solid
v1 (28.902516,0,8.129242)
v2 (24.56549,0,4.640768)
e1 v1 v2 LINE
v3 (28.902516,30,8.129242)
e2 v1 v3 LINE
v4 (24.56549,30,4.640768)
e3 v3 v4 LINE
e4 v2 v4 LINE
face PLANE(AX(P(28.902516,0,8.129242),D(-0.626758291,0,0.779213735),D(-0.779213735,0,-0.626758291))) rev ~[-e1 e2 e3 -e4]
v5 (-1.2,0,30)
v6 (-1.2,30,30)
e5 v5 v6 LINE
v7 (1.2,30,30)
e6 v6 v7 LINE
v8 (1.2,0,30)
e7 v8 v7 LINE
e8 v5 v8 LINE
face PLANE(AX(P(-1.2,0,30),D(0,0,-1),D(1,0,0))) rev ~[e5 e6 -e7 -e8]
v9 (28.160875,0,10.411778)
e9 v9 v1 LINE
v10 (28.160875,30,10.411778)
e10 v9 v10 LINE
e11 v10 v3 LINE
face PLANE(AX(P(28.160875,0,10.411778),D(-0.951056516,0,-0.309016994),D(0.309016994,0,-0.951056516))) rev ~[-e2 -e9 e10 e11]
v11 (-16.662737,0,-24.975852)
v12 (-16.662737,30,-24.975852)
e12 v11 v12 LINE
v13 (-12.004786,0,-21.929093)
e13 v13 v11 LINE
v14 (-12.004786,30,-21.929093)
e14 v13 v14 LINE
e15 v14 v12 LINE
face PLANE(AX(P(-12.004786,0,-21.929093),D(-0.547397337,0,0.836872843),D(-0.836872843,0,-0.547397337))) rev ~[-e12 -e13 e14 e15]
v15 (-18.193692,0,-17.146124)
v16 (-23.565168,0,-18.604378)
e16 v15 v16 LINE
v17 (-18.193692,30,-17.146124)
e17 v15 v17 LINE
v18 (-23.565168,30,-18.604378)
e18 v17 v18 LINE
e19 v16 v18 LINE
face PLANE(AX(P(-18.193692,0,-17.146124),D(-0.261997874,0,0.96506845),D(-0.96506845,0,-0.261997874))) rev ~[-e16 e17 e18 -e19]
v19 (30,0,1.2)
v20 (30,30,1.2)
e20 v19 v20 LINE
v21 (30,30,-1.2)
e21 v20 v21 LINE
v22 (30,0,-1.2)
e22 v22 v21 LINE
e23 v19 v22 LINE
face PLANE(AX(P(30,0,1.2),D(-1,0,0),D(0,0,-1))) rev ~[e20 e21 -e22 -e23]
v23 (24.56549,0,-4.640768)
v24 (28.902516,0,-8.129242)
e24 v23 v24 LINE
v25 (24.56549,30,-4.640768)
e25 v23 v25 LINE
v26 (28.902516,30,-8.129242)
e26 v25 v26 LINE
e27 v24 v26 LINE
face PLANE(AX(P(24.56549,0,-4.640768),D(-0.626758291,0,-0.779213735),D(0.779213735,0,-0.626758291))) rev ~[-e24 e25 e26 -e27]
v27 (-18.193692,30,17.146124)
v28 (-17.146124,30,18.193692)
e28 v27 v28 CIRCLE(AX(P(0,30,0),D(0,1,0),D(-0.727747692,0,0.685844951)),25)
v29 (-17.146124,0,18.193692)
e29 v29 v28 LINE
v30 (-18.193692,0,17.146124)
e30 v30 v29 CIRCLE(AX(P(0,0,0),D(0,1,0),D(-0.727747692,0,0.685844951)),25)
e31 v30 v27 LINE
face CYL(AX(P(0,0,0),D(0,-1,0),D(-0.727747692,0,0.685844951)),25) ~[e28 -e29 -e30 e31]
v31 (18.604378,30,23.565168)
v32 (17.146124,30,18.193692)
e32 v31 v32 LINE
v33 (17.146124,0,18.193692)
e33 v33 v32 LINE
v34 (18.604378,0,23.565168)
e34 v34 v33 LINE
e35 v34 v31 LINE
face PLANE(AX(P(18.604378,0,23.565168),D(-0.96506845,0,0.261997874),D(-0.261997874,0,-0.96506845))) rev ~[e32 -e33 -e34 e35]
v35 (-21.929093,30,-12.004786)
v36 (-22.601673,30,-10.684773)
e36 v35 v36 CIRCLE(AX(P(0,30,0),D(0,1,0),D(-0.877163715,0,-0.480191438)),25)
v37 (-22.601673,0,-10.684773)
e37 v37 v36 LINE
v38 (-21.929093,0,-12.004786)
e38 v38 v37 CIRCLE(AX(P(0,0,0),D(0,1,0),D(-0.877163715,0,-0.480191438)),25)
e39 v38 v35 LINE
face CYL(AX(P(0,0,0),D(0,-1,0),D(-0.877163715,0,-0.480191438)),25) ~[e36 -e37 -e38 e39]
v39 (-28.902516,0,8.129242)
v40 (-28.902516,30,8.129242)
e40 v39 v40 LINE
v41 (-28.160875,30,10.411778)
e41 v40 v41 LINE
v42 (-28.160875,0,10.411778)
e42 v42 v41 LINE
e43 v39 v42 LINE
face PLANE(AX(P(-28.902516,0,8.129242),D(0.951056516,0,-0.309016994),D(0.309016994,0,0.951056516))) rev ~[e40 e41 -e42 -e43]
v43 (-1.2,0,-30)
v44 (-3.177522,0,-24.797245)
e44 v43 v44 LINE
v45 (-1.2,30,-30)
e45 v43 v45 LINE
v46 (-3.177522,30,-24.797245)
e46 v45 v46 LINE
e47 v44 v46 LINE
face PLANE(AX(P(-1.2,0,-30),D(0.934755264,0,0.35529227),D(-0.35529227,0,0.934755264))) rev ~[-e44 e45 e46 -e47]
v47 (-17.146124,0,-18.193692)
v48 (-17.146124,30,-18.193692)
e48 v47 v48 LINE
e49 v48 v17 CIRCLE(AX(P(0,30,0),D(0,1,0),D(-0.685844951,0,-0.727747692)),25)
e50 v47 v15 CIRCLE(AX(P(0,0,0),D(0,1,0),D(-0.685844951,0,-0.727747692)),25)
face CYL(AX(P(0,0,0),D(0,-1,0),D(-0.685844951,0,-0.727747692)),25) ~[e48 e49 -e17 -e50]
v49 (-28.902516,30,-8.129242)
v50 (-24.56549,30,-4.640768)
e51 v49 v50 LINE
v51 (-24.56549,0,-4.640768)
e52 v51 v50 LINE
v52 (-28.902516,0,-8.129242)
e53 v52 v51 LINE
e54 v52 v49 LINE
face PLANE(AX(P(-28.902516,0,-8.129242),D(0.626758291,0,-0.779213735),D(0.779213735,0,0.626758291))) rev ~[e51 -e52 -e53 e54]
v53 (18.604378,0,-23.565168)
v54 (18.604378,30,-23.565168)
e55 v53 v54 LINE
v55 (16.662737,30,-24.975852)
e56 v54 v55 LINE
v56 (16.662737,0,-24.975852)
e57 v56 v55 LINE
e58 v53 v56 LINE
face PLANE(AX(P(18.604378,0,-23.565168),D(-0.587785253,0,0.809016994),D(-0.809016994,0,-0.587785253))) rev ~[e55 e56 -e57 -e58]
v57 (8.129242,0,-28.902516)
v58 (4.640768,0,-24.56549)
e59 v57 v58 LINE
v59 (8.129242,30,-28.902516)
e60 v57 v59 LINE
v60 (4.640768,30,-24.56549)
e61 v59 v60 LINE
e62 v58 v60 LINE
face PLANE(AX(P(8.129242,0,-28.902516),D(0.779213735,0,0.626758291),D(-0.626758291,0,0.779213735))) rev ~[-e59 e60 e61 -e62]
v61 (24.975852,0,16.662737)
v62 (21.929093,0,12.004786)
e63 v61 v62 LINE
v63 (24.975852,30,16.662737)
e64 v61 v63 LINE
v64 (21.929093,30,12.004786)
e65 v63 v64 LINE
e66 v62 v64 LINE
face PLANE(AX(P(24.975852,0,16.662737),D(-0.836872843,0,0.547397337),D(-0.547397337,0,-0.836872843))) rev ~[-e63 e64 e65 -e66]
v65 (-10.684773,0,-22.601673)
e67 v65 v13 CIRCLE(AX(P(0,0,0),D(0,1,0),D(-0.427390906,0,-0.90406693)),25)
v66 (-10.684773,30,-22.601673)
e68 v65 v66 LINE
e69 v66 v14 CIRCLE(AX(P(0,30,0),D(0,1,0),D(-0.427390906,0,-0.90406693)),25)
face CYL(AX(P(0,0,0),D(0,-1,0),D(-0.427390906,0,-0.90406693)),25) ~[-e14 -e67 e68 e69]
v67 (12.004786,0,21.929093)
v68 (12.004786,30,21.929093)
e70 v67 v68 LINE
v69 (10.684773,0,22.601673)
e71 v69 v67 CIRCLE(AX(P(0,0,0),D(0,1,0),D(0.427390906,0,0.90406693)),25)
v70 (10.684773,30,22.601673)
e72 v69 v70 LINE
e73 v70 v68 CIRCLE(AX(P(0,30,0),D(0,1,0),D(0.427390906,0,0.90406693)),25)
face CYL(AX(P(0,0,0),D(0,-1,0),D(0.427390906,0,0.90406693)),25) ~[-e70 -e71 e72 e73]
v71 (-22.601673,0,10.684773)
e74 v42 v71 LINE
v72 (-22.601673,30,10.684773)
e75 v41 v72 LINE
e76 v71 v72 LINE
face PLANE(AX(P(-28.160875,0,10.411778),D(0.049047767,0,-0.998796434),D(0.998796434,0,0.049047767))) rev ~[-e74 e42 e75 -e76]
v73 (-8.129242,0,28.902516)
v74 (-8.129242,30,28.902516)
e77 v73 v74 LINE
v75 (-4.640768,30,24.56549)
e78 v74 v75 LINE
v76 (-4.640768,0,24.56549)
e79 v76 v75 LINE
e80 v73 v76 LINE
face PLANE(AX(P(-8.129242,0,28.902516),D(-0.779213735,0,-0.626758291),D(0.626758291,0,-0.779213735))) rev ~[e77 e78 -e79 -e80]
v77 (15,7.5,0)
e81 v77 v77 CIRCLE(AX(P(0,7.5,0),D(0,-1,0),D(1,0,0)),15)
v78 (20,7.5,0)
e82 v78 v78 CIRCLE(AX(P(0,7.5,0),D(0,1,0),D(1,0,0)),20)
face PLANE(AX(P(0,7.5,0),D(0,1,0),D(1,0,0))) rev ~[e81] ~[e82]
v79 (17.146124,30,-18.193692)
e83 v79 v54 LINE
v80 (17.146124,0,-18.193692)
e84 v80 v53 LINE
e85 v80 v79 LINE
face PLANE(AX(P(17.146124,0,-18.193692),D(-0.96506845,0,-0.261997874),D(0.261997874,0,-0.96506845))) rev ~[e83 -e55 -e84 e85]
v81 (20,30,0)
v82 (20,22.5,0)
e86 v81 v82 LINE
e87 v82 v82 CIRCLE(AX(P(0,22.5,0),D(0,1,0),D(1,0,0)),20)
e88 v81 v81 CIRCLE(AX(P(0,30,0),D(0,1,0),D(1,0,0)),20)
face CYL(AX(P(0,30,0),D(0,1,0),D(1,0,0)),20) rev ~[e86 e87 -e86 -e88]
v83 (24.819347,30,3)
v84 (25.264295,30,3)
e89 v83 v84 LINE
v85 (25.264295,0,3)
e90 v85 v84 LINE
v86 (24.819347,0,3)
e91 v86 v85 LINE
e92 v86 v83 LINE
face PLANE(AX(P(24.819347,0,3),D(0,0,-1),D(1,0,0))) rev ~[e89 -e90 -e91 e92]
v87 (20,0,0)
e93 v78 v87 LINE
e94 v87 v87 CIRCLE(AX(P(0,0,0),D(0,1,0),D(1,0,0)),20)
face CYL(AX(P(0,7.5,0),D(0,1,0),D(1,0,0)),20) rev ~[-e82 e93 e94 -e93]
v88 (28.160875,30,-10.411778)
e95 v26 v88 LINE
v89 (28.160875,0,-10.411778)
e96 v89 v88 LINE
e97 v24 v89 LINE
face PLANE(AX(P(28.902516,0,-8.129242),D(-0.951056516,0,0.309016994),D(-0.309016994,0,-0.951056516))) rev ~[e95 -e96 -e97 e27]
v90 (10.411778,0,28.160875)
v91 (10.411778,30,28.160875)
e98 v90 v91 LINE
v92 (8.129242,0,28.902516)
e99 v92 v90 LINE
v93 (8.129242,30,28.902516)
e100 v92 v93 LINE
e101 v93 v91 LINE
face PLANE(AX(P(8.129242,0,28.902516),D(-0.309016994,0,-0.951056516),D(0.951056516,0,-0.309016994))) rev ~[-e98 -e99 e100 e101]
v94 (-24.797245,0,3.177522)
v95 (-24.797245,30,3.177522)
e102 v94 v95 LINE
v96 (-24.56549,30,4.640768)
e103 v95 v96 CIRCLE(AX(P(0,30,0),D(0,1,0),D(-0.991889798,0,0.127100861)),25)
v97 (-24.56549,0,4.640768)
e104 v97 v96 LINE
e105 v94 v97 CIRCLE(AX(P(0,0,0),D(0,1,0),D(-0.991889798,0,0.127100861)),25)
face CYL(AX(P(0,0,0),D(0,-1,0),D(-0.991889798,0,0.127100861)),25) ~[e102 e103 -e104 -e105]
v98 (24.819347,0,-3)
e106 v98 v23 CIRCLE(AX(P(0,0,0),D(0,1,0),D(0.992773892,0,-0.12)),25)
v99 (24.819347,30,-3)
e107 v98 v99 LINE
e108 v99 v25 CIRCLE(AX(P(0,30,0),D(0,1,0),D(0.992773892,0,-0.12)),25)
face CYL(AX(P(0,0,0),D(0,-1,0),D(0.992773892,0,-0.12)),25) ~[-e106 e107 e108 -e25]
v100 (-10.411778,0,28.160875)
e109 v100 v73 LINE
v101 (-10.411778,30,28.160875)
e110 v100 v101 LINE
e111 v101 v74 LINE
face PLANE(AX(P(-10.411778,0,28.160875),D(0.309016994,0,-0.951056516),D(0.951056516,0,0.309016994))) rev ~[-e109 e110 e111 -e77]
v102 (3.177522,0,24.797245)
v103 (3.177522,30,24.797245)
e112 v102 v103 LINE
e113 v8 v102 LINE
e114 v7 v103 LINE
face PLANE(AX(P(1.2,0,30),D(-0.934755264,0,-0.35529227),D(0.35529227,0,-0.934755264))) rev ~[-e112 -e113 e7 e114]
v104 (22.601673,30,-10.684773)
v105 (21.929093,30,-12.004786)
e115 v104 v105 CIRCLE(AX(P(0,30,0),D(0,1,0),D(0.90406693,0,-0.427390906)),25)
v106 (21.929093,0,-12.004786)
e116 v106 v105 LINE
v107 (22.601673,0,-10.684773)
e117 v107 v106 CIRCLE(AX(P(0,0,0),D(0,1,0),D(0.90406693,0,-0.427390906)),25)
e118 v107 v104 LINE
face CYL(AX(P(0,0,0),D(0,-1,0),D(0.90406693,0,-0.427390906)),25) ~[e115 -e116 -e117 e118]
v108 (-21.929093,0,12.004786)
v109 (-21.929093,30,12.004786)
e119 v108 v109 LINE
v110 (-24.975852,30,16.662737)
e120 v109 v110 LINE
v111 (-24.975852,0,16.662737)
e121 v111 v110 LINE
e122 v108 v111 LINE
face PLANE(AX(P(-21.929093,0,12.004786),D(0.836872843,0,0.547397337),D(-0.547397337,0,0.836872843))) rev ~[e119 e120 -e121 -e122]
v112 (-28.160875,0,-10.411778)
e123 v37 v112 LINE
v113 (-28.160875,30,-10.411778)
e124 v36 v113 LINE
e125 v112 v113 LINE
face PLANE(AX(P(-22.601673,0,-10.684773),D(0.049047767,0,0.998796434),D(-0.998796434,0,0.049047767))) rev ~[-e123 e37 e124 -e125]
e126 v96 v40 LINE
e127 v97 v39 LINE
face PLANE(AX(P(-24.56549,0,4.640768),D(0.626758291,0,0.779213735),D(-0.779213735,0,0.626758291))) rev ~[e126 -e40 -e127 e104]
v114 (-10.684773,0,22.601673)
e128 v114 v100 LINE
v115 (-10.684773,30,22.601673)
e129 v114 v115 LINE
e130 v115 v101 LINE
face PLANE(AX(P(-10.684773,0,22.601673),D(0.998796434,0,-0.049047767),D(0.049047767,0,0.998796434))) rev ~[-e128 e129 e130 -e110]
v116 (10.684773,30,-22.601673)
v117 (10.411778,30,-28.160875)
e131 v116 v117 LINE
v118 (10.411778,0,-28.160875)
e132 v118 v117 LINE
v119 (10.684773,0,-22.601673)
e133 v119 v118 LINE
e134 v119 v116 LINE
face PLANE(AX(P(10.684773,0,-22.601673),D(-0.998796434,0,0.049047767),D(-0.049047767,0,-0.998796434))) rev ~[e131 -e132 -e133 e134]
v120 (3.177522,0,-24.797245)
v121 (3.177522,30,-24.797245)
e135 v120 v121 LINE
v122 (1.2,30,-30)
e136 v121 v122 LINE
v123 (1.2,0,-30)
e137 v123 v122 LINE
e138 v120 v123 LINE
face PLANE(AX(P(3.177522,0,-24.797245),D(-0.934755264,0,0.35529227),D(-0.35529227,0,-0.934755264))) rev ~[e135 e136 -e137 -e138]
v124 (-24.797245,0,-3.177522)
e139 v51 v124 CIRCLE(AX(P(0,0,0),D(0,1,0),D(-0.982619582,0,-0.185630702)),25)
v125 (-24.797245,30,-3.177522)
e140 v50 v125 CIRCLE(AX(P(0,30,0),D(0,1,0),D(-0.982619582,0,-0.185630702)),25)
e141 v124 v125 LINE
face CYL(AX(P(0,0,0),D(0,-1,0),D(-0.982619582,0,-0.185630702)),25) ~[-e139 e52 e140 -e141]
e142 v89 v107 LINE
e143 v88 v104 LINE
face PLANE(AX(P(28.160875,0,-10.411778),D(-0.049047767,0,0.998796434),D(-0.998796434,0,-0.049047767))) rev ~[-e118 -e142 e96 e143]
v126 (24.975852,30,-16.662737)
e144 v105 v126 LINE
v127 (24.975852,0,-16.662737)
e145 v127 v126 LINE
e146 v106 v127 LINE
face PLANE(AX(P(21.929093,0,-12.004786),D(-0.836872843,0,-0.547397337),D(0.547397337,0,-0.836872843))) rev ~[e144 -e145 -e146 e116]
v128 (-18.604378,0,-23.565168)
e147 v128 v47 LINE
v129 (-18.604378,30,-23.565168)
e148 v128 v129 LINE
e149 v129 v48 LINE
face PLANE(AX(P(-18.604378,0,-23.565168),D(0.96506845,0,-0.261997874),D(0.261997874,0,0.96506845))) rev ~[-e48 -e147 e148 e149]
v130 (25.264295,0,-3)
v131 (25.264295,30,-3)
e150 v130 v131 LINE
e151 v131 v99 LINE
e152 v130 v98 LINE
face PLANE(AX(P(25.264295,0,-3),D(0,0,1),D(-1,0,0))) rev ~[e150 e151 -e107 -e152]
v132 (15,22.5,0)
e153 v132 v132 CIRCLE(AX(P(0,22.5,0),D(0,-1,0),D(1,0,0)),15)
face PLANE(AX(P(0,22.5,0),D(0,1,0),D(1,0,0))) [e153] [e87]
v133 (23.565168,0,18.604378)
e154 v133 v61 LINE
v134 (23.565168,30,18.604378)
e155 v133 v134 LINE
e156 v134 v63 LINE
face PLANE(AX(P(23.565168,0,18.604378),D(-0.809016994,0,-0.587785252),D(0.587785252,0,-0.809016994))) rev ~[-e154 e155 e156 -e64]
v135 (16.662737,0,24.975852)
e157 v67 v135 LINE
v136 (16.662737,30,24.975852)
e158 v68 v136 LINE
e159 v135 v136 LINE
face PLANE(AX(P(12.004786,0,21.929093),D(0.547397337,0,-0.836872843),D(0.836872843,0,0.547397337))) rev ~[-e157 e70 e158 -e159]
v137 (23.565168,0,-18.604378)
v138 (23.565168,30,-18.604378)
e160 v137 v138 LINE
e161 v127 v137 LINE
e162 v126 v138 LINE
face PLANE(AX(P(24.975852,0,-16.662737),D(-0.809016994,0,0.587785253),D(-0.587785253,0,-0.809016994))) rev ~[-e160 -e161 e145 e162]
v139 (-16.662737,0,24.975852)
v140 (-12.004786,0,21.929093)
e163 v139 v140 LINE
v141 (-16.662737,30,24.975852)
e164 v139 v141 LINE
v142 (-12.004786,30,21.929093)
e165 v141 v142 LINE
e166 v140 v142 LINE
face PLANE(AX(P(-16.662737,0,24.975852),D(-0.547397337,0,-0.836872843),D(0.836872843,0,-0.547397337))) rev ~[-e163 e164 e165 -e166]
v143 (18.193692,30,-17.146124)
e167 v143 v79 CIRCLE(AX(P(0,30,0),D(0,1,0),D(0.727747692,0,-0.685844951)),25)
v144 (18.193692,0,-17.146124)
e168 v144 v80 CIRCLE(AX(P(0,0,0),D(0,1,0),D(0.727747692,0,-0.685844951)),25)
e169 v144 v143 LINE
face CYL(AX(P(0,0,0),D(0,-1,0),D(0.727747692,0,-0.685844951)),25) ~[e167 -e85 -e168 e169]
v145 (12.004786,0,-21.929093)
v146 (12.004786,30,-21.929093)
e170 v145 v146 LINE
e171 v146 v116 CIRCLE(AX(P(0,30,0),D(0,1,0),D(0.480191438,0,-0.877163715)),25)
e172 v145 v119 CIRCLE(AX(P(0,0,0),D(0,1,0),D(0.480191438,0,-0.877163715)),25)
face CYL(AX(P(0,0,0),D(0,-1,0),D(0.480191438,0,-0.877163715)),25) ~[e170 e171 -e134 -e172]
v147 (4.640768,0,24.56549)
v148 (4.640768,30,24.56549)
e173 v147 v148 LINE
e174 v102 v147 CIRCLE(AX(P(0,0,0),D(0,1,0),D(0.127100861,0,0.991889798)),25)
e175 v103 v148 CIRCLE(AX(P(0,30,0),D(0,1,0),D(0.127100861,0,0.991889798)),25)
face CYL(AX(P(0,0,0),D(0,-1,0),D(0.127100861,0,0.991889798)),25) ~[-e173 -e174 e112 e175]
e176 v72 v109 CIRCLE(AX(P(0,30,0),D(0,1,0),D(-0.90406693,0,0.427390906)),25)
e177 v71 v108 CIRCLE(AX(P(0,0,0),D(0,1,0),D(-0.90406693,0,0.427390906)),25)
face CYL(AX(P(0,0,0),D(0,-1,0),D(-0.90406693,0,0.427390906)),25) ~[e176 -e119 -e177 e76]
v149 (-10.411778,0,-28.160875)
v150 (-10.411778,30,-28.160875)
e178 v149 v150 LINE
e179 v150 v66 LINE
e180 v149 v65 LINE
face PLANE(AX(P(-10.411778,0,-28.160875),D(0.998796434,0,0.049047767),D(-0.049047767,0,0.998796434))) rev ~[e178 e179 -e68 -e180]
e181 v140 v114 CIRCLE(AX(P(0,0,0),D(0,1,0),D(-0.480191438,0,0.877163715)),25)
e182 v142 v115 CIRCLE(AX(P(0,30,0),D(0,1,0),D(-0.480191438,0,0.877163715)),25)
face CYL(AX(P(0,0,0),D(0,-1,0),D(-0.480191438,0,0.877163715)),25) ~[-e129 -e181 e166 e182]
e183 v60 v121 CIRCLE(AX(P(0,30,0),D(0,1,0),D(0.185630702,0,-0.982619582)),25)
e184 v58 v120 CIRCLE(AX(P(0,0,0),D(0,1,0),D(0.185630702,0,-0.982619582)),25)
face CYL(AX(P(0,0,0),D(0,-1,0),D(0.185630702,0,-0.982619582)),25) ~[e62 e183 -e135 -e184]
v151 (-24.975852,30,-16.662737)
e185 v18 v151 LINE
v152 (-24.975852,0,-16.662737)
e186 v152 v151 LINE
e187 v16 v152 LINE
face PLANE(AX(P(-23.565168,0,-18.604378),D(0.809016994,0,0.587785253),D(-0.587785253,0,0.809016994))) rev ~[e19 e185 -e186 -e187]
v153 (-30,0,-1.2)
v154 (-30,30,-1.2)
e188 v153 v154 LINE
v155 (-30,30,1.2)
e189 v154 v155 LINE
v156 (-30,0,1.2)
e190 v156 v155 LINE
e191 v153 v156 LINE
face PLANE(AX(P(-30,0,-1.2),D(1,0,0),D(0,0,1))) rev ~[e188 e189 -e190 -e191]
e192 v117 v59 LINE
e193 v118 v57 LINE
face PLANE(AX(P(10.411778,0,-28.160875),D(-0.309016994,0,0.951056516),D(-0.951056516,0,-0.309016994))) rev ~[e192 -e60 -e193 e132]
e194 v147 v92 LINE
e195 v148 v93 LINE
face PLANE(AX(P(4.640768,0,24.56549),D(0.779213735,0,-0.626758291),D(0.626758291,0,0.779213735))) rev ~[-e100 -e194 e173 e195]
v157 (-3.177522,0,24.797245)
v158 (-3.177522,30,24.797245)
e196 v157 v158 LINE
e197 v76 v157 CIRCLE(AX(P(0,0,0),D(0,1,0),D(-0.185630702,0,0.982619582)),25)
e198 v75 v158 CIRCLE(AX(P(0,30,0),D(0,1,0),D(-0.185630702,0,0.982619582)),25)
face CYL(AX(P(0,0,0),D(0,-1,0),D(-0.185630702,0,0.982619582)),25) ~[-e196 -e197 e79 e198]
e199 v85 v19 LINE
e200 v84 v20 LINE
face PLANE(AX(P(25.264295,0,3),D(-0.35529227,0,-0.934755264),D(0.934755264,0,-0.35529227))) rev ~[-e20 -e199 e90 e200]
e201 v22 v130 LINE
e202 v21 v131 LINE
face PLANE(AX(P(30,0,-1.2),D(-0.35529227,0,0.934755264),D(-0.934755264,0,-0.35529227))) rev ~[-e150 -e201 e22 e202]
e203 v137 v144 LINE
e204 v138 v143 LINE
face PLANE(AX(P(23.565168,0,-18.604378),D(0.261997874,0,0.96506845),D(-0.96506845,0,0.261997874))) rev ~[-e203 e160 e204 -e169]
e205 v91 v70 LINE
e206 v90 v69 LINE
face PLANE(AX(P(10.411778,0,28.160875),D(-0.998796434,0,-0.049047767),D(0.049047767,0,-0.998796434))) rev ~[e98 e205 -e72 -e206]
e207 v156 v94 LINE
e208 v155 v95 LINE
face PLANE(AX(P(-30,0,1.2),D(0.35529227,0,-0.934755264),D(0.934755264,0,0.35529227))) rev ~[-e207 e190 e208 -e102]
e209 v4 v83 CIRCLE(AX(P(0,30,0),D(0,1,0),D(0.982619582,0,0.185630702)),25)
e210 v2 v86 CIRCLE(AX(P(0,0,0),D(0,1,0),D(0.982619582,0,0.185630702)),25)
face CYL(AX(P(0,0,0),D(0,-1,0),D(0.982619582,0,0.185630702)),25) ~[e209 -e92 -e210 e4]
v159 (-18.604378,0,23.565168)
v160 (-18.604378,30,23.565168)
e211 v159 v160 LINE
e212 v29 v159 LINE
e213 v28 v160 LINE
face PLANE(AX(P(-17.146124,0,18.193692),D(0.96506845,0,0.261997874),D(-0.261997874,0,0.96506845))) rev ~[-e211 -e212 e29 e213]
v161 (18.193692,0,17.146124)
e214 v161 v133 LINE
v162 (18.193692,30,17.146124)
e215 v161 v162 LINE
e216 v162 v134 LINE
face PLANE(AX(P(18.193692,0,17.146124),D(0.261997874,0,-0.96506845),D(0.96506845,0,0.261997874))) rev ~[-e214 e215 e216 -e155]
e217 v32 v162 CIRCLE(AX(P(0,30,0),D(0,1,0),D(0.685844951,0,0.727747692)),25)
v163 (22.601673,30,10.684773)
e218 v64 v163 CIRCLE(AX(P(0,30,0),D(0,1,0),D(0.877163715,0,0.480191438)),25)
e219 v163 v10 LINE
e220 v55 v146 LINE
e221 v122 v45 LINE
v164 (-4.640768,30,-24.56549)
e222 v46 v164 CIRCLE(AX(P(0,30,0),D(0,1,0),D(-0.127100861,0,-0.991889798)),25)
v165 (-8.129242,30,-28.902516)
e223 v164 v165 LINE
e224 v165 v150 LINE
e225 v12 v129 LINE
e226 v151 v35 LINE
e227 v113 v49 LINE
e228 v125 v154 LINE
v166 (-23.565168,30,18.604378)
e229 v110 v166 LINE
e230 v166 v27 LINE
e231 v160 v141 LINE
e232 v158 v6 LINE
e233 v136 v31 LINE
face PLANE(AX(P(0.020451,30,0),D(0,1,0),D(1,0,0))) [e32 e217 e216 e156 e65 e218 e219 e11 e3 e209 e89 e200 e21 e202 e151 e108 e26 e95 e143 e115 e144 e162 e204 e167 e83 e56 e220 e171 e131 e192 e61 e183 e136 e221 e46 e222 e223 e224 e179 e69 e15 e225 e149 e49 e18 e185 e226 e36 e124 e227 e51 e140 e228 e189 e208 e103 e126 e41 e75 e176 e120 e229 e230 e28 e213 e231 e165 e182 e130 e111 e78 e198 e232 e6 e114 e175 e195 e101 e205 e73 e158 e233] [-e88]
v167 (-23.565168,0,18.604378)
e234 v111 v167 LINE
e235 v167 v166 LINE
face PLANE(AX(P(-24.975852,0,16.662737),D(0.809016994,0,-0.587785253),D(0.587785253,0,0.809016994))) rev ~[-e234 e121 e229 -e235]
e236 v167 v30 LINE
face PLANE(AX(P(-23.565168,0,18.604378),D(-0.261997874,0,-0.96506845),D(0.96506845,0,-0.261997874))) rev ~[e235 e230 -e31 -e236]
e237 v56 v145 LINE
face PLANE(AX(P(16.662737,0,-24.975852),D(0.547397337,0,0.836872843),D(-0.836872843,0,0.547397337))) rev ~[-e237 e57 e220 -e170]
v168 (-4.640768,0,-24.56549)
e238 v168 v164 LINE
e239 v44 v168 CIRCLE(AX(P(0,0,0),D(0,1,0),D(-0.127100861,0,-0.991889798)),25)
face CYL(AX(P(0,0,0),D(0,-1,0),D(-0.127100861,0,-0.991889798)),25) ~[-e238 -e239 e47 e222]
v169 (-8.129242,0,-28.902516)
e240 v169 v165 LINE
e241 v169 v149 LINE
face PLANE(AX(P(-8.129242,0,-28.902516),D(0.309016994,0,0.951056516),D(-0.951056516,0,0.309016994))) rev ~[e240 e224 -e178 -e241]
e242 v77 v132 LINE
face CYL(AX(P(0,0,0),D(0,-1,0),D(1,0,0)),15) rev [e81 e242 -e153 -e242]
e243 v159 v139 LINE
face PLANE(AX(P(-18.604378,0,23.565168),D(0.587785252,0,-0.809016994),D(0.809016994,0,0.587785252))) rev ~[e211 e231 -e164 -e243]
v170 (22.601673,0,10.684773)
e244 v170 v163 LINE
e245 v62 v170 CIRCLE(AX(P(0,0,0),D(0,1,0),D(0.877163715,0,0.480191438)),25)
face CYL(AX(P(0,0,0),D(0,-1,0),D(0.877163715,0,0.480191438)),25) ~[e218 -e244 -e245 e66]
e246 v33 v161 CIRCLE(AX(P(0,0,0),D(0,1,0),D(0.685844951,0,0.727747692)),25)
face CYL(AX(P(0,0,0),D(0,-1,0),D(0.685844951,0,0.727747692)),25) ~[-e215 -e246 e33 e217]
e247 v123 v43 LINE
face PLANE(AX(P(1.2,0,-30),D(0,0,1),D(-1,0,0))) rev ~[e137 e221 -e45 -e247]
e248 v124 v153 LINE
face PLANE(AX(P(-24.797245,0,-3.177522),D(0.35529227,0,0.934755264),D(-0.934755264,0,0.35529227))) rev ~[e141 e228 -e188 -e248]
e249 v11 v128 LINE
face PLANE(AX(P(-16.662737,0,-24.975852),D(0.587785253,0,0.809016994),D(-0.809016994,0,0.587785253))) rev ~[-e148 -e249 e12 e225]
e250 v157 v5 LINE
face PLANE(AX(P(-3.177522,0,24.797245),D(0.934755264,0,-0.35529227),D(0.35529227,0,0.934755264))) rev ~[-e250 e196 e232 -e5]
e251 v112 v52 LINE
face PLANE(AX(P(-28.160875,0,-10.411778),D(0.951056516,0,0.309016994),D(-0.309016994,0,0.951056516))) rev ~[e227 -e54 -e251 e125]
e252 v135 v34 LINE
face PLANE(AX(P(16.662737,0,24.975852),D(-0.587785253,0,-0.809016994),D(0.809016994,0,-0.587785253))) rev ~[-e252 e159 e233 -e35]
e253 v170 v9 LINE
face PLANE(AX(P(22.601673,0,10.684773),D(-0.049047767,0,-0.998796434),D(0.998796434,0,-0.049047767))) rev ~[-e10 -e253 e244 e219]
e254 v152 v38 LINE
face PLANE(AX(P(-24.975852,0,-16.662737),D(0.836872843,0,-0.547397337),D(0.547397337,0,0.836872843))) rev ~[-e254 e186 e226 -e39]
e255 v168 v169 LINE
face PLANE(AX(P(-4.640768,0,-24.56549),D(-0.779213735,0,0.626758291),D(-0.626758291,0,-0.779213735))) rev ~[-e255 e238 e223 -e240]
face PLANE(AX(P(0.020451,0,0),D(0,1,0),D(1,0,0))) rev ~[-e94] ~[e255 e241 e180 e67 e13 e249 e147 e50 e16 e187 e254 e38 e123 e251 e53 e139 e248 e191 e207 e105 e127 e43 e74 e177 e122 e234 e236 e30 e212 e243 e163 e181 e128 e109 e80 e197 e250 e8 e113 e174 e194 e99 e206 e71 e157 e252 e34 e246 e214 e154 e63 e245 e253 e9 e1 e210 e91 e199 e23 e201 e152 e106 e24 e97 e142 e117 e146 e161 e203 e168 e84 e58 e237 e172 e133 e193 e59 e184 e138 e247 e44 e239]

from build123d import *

# Parameters (mm, degrees)
SKETCH2_R           = 15
BOSS_EXTRUDE1_DEPTH = 30
SKETCH6_R           = 20
CUT_EXTRUDE2_DEPTH  = 7.5
CUT_EXTRUDE3_START  = -22.5
SKETCH6_2_R         = 20
CUT_EXTRUDE3_DEPTH  = 7.5


with BuildPart() as part:
    # Sketch2 → Boss-Extrude1 (new body)
    with BuildSketch(Plane(origin=(0, 0, 0), x_dir=(1, 0, 0), z_dir=(0, 1, 0))):
        with BuildLine():
            ThreePointArc((24.819347292, 3), (24.706042922, 3.822491744), (24.565489544, 4.640767551))
            Line((24.565489544, 4.640767551), (28.902515882, 8.129242012))
            Line((28.902515882, 8.129242012), (28.160875096, 10.411777651))
            Line((28.160875096, 10.411777651), (22.601673242, 10.684772654))
            ThreePointArc((22.601673242, 10.684772654), (22.275163105, 11.349762493), (21.929092867, 12.004785964))
            Line((21.929092867, 12.004785964), (24.975852134, 16.662737176))
            Line((24.975852134, 16.662737176), (23.565167528, 18.604377962))
            Line((23.565167528, 18.604377962), (18.193692285, 17.146123791))
            ThreePointArc((18.193692285, 17.146123791), (17.67766953, 17.67766953), (17.146123791, 18.193692285))
            Line((17.146123791, 18.193692285), (18.604377962, 23.565167528))
            Line((18.604377962, 23.565167528), (16.662737176, 24.975852134))
            Line((16.662737176, 24.975852134), (12.004785964, 21.929092867))
            ThreePointArc((12.004785964, 21.929092867), (11.349762493, 22.275163105), (10.684772654, 22.601673242))
            Line((10.684772654, 22.601673242), (10.411777651, 28.160875096))
            Line((10.411777651, 28.160875096), (8.129242012, 28.902515882))
            Line((8.129242012, 28.902515882), (4.640767551, 24.565489544))
            ThreePointArc((4.640767551, 24.565489544), (3.910861626, 24.692208515), (3.177521525, 24.797244947))
            Line((3.177521525, 24.797244947), (1.2, 30))
            Line((1.2, 30), (-1.2, 30))
            Line((-1.2, 30), (-3.177521525, 24.797244947))
            ThreePointArc((-3.177521525, 24.797244947), (-3.910861626, 24.692208515), (-4.640767551, 24.565489544))
            Line((-4.640767551, 24.565489544), (-8.129242012, 28.902515882))
            Line((-8.129242012, 28.902515882), (-10.411777651, 28.160875096))
            Line((-10.411777651, 28.160875096), (-10.684772654, 22.601673242))
            ThreePointArc((-10.684772654, 22.601673242), (-11.349762493, 22.275163105), (-12.004785964, 21.929092867))
            Line((-12.004785964, 21.929092867), (-16.662737176, 24.975852134))
            Line((-16.662737176, 24.975852134), (-18.604377962, 23.565167528))
            Line((-18.604377962, 23.565167528), (-17.146123791, 18.193692285))
            ThreePointArc((-17.146123791, 18.193692285), (-17.67766953, 17.67766953), (-18.193692285, 17.146123791))
            Line((-18.193692285, 17.146123791), (-23.565167528, 18.604377962))
            Line((-23.565167528, 18.604377962), (-24.975852134, 16.662737176))
            Line((-24.975852134, 16.662737176), (-21.929092867, 12.004785964))
            ThreePointArc((-21.929092867, 12.004785964), (-22.275163105, 11.349762493), (-22.601673242, 10.684772654))
            Line((-22.601673242, 10.684772654), (-28.160875096, 10.411777651))
            Line((-28.160875096, 10.411777651), (-28.902515882, 8.129242012))
            Line((-28.902515882, 8.129242012), (-24.565489544, 4.640767551))
            ThreePointArc((-24.565489544, 4.640767551), (-24.692208515, 3.910861626), (-24.797244947, 3.177521525))
            Line((-24.797244947, 3.177521525), (-30, 1.2))
            Line((-30, 1.2), (-30, -1.2))
            Line((-30, -1.2), (-24.797244947, -3.177521525))
            ThreePointArc((-24.797244947, -3.177521525), (-24.692208515, -3.910861626), (-24.565489544, -4.640767551))
            Line((-24.565489544, -4.640767551), (-28.902515882, -8.129242012))
            Line((-28.902515882, -8.129242012), (-28.160875096, -10.411777651))
            Line((-28.160875096, -10.411777651), (-22.601673242, -10.684772654))
            ThreePointArc((-22.601673242, -10.684772654), (-22.275163105, -11.349762493), (-21.929092867, -12.004785964))
            Line((-21.929092867, -12.004785964), (-24.975852134, -16.662737176))
            Line((-24.975852134, -16.662737176), (-23.565167528, -18.604377962))
            Line((-23.565167528, -18.604377962), (-18.193692285, -17.146123791))
            ThreePointArc((-18.193692285, -17.146123791), (-17.67766953, -17.67766953), (-17.146123791, -18.193692285))
            Line((-17.146123791, -18.193692285), (-18.604377962, -23.565167529))
            Line((-18.604377962, -23.565167529), (-16.662737176, -24.975852134))
            Line((-16.662737176, -24.975852134), (-12.004785964, -21.929092867))
            ThreePointArc((-12.004785964, -21.929092867), (-11.349762493, -22.275163105), (-10.684772654, -22.601673242))
            Line((-10.684772654, -22.601673242), (-10.411777651, -28.160875096))
            Line((-10.411777651, -28.160875096), (-8.129242012, -28.902515882))
            Line((-8.129242012, -28.902515882), (-4.640767551, -24.565489544))
            ThreePointArc((-4.640767551, -24.565489544), (-3.910861626, -24.692208515), (-3.177521525, -24.797244947))
            Line((-3.177521525, -24.797244947), (-1.2, -30))
            Line((-1.2, -30), (1.2, -30))
            Line((1.2, -30), (3.177521525, -24.797244947))
            ThreePointArc((3.177521525, -24.797244947), (3.910861626, -24.692208515), (4.640767551, -24.565489544))
            Line((4.640767551, -24.565489544), (8.129242012, -28.902515882))
            Line((8.129242012, -28.902515882), (10.411777651, -28.160875096))
            Line((10.411777651, -28.160875096), (10.684772654, -22.601673242))
            ThreePointArc((10.684772654, -22.601673242), (11.349762493, -22.275163105), (12.004785964, -21.929092867))
            Line((12.004785964, -21.929092867), (16.662737176, -24.975852134))
            Line((16.662737176, -24.975852134), (18.604377962, -23.565167528))
            Line((18.604377962, -23.565167528), (17.146123791, -18.193692285))
            ThreePointArc((17.146123791, -18.193692285), (17.67766953, -17.67766953), (18.193692285, -17.146123791))
            Line((18.193692285, -17.146123791), (23.565167529, -18.604377962))
            Line((23.565167529, -18.604377962), (24.975852134, -16.662737176))
            Line((24.975852134, -16.662737176), (21.929092867, -12.004785964))
            ThreePointArc((21.929092867, -12.004785964), (22.275163105, -11.349762493), (22.601673242, -10.684772654))
            Line((22.601673242, -10.684772654), (28.160875096, -10.411777651))
            Line((28.160875096, -10.411777651), (28.902515882, -8.129242012))
            Line((28.902515882, -8.129242012), (24.565489544, -4.640767551))
            ThreePointArc((24.565489544, -4.640767551), (24.706042922, -3.822491744), (24.819347292, -3))
            Line((24.819347292, -3), (25.264294735, -3))
            Line((25.264294735, -3), (30, -1.2))
            Line((30, -1.2), (30, 1.2))
            Line((30, 1.2), (25.264294735, 3))
            Line((25.264294735, 3), (24.819347292, 3))
        make_face()
        Circle(SKETCH2_R, mode=Mode.SUBTRACT)
    extrude(amount=BOSS_EXTRUDE1_DEPTH)

    # Sketch6 → Cut-Extrude2 (cut)
    with BuildSketch(Plane(origin=(0, 30, 0), x_dir=(1, 0, 0), z_dir=(0, 1, 0))):
        Circle(SKETCH6_R)
    extrude(amount=-CUT_EXTRUDE2_DEPTH, mode=Mode.SUBTRACT)

    # Sketch6<2> → Cut-Extrude3 (cut)
    with BuildSketch(Plane(origin=(0, 30, 0), x_dir=(1, 0, 0), z_dir=(0, 1, 0)).offset(CUT_EXTRUDE3_START)):
        Circle(SKETCH6_2_R)
    extrude(amount=-CUT_EXTRUDE3_DEPTH, mode=Mode.SUBTRACT)


solid = part.part
